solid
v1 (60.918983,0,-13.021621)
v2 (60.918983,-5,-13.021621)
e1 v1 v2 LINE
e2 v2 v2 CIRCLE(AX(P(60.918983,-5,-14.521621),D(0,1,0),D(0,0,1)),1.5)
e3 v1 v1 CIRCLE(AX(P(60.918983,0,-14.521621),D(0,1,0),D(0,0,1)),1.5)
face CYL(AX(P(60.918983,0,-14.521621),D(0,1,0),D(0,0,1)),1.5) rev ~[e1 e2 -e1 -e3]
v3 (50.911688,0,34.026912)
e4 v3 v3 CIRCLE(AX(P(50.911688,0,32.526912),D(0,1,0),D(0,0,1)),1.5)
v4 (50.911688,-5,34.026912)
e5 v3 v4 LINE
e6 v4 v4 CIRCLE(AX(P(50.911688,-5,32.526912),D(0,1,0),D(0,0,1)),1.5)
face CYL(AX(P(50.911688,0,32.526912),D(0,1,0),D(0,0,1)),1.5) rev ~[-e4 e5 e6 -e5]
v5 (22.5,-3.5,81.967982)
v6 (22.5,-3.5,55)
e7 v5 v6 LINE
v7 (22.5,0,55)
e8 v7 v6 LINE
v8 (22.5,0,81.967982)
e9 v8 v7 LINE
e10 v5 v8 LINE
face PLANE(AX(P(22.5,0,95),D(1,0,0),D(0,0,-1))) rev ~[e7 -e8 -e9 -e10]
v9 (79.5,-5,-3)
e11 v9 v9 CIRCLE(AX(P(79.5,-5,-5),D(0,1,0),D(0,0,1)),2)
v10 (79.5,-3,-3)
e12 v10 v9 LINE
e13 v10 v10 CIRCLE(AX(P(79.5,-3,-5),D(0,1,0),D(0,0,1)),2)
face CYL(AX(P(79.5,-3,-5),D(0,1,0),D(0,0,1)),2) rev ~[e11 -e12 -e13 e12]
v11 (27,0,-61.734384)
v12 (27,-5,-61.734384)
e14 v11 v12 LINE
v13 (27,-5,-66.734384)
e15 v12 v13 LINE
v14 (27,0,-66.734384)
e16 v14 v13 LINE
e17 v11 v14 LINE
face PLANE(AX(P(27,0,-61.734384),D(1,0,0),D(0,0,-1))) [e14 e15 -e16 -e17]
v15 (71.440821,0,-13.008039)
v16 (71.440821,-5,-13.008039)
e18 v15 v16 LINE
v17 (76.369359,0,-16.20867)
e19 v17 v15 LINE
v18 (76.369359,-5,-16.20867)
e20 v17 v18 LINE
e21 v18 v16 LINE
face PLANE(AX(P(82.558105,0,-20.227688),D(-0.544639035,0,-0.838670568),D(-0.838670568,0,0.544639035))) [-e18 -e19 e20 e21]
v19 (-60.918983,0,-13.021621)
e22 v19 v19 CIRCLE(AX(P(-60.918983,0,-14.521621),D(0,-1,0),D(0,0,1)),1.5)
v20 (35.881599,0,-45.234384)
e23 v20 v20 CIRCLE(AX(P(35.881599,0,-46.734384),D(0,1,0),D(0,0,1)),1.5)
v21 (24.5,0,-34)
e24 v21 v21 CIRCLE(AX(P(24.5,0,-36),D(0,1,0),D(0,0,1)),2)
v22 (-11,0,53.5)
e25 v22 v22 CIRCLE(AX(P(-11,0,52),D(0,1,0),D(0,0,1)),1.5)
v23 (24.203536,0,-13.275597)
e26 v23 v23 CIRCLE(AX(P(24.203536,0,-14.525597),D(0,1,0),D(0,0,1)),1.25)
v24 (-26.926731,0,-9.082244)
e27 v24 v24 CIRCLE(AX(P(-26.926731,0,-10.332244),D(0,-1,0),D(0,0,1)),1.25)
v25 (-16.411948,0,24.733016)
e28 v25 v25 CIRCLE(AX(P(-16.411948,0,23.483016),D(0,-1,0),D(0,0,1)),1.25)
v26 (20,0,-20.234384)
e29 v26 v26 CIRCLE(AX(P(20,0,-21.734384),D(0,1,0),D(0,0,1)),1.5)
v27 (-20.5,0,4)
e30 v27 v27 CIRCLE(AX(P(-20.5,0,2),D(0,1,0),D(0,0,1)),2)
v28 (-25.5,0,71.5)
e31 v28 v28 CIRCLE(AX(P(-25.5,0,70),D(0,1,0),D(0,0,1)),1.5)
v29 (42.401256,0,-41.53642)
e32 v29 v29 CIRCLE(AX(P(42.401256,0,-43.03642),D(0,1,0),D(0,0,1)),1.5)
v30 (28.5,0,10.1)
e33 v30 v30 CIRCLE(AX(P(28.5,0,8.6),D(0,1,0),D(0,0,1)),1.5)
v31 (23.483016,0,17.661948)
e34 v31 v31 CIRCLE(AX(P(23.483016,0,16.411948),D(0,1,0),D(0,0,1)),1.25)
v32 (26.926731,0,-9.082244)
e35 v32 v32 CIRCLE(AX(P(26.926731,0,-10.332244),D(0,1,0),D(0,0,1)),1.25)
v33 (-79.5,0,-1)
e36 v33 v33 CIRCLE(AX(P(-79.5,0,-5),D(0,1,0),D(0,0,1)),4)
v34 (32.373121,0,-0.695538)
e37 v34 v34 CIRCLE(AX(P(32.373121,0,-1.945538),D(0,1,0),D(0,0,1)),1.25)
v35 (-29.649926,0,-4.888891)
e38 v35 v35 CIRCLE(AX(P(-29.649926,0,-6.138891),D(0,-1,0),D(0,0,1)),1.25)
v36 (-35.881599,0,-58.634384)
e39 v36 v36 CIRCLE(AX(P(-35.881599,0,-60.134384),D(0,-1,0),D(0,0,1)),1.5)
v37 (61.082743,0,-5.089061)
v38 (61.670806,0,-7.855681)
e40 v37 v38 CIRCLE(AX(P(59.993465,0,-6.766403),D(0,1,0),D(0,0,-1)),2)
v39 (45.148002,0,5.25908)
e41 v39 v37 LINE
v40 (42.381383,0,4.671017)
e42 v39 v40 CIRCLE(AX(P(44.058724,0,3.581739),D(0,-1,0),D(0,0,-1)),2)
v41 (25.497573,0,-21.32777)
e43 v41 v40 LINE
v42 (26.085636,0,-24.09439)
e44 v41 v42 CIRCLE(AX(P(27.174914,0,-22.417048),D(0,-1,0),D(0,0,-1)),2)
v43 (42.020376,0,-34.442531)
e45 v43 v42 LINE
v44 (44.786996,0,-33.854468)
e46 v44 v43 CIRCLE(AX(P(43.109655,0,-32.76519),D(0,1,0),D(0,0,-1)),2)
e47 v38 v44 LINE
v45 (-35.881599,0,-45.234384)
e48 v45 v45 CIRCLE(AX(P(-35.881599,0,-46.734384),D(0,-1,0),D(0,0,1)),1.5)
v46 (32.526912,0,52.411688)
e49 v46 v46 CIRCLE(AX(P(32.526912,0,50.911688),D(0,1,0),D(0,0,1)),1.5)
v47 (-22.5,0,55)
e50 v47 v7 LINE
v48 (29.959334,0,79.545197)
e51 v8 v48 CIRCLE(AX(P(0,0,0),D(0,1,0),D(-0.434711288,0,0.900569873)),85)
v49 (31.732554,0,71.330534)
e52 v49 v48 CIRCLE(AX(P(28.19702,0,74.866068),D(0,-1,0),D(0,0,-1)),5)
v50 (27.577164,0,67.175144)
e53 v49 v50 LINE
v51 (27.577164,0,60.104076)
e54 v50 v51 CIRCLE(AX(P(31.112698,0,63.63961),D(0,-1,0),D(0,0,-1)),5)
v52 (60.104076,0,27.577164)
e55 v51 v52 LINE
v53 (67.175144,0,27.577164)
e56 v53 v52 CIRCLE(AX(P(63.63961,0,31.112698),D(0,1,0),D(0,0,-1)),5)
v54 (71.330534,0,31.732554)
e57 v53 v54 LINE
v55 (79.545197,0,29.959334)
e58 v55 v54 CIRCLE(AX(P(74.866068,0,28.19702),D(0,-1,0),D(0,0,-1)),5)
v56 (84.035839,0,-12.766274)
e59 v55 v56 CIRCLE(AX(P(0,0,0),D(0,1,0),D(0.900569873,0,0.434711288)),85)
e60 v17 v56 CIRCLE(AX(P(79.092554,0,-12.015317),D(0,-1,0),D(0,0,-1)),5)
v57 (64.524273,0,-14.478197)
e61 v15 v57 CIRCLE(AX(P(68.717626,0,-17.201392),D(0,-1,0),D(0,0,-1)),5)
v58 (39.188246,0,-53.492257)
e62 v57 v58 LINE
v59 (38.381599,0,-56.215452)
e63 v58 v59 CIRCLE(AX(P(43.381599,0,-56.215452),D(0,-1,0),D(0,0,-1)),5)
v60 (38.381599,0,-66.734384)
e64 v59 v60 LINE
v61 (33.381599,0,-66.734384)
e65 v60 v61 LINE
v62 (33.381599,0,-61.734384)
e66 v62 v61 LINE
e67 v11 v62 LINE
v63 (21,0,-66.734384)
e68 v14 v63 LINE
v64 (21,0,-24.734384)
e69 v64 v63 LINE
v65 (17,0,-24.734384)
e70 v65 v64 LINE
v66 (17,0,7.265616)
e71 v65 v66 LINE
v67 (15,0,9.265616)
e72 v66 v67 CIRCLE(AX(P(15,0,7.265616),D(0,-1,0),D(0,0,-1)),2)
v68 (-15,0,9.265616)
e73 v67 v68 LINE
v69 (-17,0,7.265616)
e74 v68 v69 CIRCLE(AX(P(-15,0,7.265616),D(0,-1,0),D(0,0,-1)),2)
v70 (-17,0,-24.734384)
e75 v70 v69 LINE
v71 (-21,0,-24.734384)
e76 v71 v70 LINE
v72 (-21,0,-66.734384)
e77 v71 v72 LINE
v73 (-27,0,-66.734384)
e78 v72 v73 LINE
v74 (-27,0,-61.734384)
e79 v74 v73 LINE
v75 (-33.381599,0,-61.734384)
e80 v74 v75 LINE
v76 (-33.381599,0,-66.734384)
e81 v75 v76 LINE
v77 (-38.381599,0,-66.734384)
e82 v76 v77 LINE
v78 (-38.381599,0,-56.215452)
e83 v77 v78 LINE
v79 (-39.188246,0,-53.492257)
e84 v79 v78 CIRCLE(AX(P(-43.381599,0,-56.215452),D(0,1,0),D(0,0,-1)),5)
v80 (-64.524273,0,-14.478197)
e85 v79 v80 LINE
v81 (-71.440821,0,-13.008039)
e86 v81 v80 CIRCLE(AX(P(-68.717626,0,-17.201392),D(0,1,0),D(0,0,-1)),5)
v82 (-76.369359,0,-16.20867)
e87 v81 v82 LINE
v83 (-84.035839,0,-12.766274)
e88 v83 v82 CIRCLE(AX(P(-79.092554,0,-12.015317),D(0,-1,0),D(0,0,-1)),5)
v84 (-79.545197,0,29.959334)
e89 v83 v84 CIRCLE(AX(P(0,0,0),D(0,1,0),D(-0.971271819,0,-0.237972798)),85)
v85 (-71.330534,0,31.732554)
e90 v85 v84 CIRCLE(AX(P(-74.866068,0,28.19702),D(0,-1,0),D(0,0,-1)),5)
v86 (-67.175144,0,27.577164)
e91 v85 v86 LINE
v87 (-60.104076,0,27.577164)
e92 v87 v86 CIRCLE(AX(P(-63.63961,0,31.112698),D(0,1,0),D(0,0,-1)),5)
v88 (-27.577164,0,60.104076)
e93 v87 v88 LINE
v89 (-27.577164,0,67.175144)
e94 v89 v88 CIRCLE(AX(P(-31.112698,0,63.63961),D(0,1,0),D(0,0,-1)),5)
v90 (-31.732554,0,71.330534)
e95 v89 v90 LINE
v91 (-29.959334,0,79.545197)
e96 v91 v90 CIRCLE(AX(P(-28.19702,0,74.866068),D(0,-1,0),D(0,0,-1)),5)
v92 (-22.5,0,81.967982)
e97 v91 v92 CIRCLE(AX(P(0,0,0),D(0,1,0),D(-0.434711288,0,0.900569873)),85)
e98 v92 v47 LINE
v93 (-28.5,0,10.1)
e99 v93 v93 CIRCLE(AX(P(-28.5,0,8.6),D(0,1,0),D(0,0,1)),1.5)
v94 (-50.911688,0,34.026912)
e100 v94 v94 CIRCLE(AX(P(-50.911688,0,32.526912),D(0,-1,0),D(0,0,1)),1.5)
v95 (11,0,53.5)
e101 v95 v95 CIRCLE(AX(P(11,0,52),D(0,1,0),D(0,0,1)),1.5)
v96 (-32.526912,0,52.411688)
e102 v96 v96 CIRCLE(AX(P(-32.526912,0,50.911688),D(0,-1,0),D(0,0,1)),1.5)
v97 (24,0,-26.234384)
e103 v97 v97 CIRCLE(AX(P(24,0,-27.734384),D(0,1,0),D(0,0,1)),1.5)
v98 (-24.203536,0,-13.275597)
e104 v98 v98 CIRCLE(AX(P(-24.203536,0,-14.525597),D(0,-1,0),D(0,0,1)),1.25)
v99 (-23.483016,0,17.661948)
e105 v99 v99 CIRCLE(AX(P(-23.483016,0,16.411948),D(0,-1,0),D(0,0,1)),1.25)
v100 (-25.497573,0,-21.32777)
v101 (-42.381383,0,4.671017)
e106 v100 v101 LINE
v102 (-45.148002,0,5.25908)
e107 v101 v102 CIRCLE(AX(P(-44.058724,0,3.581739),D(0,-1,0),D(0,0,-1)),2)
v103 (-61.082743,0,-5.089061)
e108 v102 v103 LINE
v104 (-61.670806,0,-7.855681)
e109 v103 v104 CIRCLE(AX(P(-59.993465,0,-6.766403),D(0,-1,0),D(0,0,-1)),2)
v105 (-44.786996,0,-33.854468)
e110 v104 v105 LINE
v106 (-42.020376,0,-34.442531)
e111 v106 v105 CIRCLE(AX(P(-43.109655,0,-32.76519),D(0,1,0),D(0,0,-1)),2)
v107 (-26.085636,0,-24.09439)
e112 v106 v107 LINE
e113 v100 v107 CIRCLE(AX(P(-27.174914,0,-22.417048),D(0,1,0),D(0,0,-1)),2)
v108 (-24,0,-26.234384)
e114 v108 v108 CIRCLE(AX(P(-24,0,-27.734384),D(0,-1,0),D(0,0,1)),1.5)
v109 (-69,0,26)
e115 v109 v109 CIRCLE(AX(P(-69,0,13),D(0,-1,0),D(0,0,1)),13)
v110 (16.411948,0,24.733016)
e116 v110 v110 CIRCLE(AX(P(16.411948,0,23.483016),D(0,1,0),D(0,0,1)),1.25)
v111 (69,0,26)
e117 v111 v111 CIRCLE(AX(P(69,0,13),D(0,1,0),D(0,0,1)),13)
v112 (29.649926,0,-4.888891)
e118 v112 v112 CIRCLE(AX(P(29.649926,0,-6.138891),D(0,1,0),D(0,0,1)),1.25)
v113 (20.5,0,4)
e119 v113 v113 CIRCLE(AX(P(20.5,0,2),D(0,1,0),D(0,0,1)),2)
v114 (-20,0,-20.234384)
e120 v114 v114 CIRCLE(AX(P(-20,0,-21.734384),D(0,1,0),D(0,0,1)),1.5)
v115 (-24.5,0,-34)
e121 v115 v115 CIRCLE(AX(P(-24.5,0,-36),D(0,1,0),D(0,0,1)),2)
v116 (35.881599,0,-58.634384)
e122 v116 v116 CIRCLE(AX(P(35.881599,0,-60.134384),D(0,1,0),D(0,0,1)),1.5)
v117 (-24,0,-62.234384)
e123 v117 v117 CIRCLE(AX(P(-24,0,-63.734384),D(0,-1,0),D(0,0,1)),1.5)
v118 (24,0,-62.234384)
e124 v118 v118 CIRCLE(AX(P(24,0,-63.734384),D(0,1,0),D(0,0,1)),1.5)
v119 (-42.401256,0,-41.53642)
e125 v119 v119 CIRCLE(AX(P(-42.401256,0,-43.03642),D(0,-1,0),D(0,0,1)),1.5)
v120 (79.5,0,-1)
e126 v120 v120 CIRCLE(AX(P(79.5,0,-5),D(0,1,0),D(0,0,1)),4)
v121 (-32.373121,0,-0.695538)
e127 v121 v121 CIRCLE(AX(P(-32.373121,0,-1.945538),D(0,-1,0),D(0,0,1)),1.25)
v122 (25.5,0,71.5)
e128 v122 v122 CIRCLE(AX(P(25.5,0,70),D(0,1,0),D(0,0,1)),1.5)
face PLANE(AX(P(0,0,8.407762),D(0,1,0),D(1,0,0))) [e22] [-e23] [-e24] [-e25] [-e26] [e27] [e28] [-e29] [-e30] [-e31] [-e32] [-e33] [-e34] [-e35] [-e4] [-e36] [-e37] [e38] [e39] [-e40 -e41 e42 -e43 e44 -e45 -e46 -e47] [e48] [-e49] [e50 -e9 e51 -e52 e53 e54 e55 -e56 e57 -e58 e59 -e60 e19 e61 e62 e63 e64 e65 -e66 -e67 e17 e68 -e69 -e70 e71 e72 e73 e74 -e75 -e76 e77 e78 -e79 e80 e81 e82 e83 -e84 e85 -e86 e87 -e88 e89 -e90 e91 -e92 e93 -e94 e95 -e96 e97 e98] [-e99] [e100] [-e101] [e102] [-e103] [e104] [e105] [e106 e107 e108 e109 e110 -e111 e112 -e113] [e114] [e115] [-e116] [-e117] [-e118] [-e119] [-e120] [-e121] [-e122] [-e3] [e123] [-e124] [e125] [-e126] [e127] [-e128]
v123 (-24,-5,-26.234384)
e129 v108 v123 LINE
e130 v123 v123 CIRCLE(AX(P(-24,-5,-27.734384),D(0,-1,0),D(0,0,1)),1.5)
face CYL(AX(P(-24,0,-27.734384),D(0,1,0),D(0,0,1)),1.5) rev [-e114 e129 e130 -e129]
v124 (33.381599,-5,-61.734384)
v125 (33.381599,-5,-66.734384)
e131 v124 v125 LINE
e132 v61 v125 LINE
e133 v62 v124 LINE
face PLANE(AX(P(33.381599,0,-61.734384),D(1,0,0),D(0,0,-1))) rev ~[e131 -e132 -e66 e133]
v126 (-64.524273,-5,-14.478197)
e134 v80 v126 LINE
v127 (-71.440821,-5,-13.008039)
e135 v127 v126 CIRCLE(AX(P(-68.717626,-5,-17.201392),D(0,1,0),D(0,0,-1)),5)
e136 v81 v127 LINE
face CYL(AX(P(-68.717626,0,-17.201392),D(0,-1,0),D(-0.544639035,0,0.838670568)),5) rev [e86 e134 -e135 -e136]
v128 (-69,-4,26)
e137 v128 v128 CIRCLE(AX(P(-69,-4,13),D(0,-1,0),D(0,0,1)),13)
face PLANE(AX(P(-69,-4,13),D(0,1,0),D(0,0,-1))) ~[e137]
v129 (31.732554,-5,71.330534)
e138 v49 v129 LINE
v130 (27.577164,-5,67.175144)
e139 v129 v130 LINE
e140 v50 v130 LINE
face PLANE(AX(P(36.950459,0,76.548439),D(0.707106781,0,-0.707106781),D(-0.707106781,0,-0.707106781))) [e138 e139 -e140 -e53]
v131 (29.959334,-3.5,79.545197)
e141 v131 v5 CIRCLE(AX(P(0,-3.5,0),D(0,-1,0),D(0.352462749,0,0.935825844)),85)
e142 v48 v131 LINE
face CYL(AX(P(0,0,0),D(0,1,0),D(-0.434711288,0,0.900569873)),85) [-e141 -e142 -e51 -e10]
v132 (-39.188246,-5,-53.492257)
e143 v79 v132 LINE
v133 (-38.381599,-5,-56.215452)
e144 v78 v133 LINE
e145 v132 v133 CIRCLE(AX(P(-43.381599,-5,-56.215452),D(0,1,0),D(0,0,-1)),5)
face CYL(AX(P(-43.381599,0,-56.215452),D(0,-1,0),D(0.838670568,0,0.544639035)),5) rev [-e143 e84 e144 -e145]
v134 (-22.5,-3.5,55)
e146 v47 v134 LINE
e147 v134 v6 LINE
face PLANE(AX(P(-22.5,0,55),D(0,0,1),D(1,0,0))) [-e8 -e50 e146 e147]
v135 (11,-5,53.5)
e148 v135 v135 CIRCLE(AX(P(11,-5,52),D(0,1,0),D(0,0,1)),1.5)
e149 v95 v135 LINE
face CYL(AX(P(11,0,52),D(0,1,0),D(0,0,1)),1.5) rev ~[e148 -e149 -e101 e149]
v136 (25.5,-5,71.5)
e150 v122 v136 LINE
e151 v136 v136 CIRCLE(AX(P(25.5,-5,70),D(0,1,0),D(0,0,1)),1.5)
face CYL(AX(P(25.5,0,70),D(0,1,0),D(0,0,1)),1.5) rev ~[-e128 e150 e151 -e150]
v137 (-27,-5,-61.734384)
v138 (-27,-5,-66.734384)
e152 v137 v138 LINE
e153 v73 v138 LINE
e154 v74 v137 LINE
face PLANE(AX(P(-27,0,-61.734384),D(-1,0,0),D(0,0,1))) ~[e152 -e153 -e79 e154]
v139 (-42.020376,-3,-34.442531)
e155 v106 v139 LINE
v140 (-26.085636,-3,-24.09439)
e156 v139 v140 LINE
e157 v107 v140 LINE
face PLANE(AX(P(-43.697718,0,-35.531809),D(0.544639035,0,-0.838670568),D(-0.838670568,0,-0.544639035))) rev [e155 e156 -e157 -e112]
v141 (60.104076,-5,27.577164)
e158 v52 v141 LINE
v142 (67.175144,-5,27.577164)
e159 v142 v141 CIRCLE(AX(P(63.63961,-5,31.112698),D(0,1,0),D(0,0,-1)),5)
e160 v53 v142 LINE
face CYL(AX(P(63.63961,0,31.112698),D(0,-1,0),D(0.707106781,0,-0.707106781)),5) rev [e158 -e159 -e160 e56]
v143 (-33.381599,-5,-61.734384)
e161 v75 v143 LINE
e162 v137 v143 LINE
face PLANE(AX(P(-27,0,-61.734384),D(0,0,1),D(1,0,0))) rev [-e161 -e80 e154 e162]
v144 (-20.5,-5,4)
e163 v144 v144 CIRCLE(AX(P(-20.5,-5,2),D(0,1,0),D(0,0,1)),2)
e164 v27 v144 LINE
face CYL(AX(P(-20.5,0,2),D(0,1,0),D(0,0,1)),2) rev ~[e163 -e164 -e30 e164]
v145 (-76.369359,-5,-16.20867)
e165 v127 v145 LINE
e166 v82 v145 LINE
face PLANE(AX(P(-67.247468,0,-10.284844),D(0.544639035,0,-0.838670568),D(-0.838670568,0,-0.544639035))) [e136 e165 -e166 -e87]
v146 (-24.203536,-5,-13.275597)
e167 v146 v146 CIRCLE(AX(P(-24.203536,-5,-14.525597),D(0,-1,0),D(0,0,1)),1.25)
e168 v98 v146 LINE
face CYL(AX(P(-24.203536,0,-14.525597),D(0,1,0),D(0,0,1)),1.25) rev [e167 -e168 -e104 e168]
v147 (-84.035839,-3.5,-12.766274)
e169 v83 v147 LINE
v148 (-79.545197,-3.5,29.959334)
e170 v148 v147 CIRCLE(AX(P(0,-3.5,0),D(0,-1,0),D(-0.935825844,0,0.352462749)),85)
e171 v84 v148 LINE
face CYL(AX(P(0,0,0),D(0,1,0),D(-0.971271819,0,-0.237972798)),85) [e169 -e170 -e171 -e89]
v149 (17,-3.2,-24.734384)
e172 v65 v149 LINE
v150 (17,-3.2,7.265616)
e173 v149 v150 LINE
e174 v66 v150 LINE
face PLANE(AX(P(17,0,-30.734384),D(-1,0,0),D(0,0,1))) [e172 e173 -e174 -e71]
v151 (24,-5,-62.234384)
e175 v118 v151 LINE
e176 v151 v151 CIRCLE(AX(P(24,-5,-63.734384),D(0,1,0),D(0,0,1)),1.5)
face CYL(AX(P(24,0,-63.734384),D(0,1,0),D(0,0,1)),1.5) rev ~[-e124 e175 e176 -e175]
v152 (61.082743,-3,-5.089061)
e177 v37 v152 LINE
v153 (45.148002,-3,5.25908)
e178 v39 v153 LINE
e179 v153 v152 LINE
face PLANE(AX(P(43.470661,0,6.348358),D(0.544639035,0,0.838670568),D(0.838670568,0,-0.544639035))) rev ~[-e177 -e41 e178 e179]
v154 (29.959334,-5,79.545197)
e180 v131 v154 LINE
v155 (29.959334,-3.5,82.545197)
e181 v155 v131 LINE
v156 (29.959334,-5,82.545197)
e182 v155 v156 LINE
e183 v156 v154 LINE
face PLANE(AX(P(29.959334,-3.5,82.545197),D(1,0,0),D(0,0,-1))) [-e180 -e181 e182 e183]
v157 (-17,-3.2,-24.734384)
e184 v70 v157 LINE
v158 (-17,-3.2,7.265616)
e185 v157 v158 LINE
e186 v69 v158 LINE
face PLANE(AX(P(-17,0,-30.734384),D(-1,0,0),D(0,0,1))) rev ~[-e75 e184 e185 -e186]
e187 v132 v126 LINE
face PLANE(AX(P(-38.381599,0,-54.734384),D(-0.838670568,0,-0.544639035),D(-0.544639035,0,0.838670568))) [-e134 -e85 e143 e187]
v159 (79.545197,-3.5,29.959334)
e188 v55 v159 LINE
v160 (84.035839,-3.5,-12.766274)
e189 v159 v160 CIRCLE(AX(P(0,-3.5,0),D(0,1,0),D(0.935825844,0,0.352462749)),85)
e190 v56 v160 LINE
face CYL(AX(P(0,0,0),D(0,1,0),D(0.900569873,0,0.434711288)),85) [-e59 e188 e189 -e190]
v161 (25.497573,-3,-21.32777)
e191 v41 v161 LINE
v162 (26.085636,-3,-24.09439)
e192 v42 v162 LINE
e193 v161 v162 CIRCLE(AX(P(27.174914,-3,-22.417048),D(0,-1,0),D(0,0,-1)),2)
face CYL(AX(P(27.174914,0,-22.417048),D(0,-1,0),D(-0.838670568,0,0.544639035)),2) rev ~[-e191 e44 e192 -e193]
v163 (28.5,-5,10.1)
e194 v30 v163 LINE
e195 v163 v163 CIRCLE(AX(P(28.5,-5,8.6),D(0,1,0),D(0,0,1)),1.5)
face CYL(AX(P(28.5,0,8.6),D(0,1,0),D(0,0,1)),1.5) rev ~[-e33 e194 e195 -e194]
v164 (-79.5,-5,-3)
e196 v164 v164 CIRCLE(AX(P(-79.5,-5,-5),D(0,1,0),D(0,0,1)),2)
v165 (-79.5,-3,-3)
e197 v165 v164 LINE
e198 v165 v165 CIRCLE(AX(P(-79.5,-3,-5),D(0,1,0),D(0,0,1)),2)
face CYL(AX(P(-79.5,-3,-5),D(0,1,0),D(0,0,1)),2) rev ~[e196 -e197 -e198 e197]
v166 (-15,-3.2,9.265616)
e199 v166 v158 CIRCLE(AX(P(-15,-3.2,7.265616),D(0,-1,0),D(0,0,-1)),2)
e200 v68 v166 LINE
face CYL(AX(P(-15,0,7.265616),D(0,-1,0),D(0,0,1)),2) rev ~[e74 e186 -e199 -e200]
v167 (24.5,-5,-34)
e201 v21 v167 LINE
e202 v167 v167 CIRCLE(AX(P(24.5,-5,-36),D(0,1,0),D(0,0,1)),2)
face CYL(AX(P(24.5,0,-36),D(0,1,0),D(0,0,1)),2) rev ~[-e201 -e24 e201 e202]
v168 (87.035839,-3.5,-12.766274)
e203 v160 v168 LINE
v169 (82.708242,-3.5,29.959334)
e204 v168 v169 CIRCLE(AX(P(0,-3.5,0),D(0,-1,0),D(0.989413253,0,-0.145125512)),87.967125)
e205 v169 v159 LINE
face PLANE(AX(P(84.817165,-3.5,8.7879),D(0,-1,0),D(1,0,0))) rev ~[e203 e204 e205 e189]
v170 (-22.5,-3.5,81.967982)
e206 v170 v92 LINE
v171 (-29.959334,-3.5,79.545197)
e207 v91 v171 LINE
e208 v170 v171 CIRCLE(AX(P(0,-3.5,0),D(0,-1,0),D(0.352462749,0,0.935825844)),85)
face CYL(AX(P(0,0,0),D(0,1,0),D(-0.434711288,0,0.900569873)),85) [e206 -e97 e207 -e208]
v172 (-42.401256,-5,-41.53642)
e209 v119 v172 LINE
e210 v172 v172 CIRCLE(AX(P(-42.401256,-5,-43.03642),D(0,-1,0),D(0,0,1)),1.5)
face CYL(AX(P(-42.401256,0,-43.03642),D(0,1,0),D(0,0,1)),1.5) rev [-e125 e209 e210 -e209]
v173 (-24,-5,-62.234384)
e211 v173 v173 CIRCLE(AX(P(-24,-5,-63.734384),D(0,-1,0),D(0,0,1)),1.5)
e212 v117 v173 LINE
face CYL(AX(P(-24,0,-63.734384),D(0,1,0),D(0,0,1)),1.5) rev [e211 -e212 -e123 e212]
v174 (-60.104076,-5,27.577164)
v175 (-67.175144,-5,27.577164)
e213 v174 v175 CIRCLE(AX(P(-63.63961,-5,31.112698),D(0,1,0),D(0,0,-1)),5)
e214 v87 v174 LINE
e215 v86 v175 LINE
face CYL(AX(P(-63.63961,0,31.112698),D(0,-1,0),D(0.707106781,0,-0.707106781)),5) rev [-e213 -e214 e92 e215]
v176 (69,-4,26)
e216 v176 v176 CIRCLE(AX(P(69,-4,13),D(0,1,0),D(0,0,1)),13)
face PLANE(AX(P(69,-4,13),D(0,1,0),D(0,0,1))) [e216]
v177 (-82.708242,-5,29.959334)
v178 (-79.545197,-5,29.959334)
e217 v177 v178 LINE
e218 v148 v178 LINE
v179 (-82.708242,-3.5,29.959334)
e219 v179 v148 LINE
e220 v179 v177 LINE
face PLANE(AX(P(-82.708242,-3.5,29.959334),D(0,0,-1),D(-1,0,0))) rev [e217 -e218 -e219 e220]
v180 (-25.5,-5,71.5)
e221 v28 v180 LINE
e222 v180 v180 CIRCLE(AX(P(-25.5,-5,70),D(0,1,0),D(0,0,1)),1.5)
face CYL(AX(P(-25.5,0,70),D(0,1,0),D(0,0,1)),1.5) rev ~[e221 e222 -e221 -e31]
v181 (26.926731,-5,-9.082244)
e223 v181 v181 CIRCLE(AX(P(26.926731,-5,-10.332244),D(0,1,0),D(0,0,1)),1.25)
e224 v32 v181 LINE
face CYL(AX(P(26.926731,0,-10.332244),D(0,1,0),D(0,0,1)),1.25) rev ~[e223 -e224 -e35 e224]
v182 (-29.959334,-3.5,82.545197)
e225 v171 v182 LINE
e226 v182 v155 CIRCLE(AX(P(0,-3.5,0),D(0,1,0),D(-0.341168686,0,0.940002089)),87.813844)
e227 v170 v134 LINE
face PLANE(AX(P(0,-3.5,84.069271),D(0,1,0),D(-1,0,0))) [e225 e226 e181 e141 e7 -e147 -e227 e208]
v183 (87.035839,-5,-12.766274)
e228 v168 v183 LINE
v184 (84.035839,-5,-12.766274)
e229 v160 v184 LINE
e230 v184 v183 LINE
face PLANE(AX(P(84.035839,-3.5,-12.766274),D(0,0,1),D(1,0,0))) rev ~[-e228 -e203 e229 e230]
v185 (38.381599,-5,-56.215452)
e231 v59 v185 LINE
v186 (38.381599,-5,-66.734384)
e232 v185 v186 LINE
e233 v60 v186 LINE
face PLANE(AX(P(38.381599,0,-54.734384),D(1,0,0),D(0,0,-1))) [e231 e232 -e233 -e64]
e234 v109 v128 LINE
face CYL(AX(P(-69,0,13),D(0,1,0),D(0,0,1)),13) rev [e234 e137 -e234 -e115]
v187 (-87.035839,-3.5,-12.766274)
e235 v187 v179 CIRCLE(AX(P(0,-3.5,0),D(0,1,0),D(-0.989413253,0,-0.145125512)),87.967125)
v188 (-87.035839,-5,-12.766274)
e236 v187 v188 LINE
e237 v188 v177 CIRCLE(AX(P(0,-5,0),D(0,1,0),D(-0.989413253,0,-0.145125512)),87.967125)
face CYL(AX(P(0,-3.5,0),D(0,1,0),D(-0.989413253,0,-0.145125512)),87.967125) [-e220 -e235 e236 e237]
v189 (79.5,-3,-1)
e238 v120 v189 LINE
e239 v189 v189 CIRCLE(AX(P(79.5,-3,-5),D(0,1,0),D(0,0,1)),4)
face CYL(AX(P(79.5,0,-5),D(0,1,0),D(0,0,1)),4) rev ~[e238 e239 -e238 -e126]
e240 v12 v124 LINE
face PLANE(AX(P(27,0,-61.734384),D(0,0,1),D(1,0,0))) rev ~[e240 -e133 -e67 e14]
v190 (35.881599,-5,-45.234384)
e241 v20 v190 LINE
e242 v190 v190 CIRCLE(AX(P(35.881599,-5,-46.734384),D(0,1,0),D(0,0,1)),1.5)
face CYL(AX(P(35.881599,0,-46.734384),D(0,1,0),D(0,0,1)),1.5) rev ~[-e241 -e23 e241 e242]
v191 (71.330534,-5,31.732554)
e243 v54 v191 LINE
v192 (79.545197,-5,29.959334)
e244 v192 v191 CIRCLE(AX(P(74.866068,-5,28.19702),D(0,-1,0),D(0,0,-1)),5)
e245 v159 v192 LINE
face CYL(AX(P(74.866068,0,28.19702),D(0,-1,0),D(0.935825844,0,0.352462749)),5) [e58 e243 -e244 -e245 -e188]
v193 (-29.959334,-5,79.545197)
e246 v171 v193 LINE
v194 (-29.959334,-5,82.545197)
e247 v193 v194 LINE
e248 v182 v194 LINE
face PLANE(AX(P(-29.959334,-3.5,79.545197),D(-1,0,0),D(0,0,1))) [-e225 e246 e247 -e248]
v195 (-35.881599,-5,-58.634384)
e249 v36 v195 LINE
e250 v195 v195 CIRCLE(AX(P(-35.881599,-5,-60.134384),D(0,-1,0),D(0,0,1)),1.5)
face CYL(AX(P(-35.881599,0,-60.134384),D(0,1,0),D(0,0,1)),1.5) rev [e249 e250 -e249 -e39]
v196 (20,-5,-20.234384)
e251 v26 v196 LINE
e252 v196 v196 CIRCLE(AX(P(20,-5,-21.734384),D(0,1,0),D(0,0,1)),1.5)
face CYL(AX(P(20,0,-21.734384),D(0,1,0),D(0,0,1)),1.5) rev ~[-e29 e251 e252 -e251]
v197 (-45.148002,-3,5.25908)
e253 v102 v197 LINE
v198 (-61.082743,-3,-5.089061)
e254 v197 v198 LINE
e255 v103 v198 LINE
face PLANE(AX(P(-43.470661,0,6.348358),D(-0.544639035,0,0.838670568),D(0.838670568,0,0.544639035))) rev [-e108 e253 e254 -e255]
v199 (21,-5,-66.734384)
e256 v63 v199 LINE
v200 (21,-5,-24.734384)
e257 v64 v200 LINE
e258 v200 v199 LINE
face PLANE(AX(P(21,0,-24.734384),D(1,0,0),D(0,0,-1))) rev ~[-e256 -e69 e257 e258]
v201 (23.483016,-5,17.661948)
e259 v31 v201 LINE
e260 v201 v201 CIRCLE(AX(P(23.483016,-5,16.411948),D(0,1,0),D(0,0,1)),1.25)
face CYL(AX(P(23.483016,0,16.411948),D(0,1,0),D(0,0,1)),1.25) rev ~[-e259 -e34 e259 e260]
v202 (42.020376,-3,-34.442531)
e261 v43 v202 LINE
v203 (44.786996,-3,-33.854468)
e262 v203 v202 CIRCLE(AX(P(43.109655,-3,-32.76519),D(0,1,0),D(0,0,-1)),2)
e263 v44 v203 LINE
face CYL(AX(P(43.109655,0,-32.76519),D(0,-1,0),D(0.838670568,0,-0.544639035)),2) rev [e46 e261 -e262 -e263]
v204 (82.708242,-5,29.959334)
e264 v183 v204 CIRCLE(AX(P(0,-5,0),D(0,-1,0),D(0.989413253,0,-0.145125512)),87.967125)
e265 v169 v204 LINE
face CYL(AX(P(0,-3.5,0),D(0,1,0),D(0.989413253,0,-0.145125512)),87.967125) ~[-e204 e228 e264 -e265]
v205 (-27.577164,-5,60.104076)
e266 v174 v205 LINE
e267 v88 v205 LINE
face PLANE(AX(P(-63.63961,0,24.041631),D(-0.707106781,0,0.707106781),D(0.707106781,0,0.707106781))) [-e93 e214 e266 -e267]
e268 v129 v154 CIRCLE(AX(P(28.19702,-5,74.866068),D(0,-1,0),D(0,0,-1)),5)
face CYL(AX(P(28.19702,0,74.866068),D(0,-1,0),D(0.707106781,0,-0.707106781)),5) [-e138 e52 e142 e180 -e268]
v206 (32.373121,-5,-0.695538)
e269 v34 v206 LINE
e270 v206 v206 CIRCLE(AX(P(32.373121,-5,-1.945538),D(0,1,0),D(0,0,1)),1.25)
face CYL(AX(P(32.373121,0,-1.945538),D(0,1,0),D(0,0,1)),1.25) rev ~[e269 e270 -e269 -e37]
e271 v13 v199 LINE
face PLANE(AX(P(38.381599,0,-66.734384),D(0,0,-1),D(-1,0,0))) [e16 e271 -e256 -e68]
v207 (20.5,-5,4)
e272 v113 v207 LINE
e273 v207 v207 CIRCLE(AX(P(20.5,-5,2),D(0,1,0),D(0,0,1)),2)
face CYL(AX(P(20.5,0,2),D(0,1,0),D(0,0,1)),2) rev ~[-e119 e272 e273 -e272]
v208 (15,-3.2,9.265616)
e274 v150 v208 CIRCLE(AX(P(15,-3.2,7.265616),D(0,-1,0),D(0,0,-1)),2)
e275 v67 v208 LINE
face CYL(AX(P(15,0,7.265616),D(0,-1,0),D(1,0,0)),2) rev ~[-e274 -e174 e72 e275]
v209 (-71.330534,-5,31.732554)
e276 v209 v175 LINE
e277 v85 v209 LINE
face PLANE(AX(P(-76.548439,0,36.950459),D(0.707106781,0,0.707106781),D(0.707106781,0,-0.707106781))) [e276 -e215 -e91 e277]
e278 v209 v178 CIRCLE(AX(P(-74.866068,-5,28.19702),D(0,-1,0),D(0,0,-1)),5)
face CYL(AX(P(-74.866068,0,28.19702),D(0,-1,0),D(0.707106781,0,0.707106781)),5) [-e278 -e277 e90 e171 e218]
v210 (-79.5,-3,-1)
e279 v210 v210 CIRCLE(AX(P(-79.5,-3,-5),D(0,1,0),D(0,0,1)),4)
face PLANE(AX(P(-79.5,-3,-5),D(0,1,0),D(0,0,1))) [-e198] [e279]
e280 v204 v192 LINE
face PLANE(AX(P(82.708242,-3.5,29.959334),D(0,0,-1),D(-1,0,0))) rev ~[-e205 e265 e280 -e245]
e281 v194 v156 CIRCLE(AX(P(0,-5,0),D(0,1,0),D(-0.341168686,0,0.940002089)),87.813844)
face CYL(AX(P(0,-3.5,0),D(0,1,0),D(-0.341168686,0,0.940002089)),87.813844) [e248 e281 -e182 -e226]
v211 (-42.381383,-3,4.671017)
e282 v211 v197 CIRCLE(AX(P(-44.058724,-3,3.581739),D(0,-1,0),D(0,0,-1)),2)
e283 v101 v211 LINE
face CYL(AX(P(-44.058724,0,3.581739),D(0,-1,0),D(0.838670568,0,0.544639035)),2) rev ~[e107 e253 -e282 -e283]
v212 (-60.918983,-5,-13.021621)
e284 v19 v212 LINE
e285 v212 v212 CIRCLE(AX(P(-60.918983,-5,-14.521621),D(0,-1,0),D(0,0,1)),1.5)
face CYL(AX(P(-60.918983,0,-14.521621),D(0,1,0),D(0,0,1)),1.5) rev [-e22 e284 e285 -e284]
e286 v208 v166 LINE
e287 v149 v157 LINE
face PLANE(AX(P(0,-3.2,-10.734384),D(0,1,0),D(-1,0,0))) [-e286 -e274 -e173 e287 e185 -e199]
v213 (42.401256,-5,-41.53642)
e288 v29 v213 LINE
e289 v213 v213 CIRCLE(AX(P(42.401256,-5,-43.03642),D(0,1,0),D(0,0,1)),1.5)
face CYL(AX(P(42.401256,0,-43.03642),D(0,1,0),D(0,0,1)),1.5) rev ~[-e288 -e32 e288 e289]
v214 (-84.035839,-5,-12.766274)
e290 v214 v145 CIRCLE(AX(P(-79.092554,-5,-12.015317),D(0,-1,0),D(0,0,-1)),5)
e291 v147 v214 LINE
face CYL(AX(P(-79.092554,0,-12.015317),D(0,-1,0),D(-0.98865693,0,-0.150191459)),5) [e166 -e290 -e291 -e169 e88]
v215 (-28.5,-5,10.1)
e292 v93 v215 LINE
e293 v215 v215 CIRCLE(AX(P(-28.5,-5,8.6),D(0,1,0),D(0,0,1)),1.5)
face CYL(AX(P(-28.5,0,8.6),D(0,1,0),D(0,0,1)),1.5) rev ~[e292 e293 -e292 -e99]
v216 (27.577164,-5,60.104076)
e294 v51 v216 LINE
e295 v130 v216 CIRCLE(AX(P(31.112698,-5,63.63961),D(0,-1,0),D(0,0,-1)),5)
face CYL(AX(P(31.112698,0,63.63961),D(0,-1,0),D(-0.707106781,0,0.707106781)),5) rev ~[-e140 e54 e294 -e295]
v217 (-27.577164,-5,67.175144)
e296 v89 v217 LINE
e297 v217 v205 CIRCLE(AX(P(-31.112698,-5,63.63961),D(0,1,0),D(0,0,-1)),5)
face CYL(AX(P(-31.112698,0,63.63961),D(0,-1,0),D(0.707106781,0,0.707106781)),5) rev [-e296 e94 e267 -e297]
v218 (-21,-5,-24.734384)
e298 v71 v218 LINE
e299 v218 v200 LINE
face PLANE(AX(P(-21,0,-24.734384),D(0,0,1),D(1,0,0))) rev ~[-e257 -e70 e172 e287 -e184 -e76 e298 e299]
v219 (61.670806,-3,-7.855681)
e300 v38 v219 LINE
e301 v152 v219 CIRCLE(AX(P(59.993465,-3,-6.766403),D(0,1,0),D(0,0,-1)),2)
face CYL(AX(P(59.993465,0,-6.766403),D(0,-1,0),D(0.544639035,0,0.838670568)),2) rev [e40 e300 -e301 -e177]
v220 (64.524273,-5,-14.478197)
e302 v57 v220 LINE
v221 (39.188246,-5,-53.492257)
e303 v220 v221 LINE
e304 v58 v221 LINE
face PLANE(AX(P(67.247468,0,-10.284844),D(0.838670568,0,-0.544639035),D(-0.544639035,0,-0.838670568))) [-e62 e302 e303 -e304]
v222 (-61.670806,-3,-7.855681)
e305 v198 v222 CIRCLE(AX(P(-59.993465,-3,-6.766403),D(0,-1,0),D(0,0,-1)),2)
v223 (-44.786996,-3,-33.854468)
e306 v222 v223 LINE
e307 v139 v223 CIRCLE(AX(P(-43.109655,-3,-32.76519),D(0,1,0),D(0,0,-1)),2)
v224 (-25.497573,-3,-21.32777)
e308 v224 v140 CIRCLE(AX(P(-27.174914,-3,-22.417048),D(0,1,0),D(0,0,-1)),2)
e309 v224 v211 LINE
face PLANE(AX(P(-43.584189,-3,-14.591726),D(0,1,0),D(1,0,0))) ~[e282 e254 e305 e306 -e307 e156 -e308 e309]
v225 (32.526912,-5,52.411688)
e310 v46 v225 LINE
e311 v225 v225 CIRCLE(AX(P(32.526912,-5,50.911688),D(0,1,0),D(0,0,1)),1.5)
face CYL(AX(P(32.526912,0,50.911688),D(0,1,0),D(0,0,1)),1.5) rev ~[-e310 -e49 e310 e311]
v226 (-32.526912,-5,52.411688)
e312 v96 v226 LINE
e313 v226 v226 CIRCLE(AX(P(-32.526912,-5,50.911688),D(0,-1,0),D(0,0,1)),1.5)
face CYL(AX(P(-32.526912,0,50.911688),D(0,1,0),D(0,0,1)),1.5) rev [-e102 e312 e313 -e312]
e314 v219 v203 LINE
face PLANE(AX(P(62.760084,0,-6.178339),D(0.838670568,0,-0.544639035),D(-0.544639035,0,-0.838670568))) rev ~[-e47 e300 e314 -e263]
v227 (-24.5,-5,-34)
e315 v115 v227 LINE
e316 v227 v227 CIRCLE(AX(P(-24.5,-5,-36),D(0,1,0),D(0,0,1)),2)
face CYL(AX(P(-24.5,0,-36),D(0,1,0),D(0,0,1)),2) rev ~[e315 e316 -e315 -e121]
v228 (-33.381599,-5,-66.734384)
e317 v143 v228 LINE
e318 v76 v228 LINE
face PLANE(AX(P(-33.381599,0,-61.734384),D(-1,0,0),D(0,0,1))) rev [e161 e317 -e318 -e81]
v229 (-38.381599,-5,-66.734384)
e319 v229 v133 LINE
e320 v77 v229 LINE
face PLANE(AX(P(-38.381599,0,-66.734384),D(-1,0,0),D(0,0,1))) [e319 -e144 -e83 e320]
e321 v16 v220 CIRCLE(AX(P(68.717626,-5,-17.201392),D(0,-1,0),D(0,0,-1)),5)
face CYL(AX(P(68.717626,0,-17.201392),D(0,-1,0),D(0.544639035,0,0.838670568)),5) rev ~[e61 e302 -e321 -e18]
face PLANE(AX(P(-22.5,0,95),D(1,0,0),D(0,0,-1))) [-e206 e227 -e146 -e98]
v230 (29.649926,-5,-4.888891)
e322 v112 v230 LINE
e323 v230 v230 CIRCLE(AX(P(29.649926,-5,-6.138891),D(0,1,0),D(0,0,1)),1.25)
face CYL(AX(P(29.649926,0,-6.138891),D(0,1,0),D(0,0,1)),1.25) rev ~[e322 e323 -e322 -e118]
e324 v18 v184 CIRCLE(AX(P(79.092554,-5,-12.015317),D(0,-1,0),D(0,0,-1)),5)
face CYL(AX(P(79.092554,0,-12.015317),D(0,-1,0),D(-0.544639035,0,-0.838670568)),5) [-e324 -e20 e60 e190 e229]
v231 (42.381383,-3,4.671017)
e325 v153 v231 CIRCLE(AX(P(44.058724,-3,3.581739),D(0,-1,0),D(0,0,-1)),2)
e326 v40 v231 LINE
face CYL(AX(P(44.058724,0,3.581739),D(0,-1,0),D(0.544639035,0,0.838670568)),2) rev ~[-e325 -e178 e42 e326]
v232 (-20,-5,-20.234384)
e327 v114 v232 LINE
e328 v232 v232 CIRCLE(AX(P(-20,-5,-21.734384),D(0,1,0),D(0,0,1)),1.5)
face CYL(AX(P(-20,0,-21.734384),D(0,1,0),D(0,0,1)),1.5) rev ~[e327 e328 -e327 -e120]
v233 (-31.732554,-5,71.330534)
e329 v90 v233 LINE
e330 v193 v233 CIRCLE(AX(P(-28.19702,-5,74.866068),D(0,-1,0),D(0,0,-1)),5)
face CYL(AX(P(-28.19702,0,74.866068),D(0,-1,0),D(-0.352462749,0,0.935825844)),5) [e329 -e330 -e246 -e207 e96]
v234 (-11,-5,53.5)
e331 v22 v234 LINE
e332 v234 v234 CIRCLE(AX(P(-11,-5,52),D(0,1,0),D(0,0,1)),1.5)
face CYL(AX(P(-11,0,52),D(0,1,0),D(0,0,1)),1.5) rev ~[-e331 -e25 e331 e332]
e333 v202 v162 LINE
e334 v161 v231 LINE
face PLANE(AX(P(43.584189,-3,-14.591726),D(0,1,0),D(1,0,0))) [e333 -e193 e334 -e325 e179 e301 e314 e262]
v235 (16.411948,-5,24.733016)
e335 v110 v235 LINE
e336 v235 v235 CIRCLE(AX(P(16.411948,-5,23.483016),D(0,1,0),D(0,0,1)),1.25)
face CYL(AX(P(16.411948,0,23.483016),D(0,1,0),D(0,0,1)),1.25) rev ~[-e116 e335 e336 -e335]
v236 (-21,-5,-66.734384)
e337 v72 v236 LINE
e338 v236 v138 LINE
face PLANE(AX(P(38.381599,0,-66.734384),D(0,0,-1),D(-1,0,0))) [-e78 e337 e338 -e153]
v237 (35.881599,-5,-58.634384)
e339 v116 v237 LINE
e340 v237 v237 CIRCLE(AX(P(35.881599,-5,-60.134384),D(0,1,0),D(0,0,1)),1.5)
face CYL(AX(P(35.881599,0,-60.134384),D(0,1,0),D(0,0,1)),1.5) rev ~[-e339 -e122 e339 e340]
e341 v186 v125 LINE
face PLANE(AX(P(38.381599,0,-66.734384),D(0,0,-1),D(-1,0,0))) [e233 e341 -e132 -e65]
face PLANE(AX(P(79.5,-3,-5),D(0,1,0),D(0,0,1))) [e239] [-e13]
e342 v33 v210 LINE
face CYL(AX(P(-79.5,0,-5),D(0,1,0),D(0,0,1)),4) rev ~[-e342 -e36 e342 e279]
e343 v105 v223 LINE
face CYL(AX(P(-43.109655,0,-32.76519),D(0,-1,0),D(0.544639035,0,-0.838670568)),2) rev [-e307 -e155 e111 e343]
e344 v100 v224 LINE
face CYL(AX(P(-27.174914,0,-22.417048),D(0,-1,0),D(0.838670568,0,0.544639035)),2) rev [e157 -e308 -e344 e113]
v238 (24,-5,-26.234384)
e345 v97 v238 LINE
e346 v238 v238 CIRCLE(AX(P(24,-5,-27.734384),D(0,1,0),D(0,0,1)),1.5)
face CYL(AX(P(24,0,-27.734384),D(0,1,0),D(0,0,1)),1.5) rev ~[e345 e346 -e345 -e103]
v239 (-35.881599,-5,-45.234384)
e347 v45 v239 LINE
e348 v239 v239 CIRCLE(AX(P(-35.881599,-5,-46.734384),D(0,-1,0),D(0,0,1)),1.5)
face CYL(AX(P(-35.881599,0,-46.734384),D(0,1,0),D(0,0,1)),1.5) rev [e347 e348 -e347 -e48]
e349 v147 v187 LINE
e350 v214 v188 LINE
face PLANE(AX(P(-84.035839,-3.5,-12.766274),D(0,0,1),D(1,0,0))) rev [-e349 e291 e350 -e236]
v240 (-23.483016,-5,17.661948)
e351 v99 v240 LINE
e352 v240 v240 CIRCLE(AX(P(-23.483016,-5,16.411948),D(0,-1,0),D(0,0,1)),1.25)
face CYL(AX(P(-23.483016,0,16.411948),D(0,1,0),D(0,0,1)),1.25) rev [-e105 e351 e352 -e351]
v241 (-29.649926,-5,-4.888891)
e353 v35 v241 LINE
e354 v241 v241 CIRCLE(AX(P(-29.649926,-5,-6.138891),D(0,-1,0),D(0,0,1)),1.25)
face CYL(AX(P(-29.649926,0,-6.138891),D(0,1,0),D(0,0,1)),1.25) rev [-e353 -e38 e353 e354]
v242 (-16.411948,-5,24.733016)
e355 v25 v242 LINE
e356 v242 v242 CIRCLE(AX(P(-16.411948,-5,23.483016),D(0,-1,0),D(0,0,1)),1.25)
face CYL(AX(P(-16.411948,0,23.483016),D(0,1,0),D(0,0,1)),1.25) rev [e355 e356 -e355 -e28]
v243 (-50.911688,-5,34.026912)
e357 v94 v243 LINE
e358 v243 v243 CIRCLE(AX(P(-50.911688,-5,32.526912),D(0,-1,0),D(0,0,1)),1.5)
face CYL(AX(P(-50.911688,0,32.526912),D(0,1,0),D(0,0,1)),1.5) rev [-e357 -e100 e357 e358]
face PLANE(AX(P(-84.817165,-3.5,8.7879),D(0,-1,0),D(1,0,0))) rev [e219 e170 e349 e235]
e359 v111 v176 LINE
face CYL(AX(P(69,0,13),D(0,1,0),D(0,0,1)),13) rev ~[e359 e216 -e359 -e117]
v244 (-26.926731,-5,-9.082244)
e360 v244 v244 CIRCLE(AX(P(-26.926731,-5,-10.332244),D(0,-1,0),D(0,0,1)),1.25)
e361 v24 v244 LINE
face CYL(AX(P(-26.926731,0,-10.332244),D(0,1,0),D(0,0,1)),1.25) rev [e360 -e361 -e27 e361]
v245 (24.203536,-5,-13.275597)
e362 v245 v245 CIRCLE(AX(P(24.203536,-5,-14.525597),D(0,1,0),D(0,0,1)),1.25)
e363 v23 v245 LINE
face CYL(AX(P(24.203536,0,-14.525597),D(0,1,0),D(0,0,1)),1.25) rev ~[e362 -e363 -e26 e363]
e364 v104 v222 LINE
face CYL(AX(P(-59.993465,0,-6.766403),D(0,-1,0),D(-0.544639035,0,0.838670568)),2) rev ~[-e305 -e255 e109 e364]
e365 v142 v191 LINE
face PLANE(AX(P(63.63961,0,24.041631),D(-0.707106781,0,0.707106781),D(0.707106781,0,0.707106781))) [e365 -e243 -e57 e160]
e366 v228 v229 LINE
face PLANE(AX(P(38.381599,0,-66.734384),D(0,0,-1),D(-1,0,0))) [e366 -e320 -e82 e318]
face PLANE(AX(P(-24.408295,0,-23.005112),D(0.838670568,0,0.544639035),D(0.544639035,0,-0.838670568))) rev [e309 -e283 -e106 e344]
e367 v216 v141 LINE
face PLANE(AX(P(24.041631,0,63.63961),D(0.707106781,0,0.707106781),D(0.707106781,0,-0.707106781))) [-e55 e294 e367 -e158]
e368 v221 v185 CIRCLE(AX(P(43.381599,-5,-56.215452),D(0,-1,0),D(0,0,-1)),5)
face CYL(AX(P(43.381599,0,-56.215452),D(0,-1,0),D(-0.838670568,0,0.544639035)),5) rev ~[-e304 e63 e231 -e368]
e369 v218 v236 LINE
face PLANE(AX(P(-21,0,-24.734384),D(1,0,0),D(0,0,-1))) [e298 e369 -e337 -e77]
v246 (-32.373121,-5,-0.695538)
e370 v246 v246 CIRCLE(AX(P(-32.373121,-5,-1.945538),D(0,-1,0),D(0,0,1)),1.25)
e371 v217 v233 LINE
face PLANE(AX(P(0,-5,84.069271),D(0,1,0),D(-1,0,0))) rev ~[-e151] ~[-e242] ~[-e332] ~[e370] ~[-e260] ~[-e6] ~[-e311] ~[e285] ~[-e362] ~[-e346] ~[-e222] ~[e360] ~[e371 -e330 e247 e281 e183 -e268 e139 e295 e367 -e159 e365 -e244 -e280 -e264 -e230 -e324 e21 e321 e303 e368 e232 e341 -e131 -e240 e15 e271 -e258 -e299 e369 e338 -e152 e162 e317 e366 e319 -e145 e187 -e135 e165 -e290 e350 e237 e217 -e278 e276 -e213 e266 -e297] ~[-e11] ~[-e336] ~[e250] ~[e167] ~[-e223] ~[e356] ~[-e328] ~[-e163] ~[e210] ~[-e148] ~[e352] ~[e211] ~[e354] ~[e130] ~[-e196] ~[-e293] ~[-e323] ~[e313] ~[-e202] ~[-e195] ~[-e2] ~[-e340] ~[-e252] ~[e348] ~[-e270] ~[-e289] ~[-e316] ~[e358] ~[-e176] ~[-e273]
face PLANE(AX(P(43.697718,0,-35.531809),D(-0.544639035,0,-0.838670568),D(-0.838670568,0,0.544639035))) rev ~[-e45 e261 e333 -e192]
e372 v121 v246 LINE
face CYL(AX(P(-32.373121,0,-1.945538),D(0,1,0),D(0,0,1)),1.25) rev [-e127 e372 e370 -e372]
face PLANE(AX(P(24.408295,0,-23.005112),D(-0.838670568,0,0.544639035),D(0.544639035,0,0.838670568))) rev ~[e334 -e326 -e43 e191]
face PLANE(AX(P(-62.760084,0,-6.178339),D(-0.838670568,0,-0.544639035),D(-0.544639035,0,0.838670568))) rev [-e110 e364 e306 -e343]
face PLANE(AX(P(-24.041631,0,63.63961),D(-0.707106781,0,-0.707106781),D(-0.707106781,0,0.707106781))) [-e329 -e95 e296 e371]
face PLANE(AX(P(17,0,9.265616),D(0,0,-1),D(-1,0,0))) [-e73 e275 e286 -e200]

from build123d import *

# Parameters (mm, degrees)
EXTRUDE1_DEPTH  = 5
SKETCH3_W       = 42
SKETCH3_H       = 47
EXTRUDE2_DEPTH  = 5
SKETCH4_W       = 34
SKETCH4_H       = 40
EXTRUDE3_DEPTH  = 3.2
EXTRUDE4_DEPTH  = 3
SKETCH6_R       = 1.5
EXTRUDE5_DEPTH  = 5
SKETCH7_R       = 1.5
EXTRUDE6_DEPTH  = 5
SKETCH8_W       = 6.381599337
SKETCH8_H       = 7
EXTRUDE7_DEPTH  = 5
SKETCH9_R       = 1.5
EXTRUDE8_DEPTH  = 5
FILLET1_R       = 5
FILLET2_R       = 2
SKETCH11_R      = 2
EXTRUDE10_DEPTH = 5
SKETCH15_R      = 13
EXTRUDE13_DEPTH = 4
SKETCH16_W      = 45
SKETCH16_H      = 40
EXTRUDE14_DEPTH = 3.5
SKETCH17_R      = 1.5
EXTRUDE16_DEPTH = 5
SKETCH18_R      = 1.5
EXTRUDE17_DEPTH = 5
SKETCH20_R      = 2
EXTRUDE19_DEPTH = 5
EXTRUDE24_START = -1.5
EXTRUDE24_DEPTH = 1.5
EXTRUDE25_START = -1.5
EXTRUDE25_DEPTH = 1.5
SKETCH27_R      = 1.5
EXTRUDE26_DEPTH = 5
SKETCH28_R      = 1.5
EXTRUDE27_DEPTH = 5
SKETCH29_R      = 4
EXTRUDE28_DEPTH = 3
SKETCH30_R      = 2
EXTRUDE29_DEPTH = 2
SKETCH14_R      = 1.25
EXTRUDE30_DEPTH = 5


with BuildPart() as part:
    # Sketch2 → Extrude1 (new body)
    with BuildSketch(Plane(origin=(0, 0, 0), x_dir=(1, 0, 0), z_dir=(0, 1, 0))):
        with BuildLine():
            Line((82.558104656, 20.227687844), (67.247468193, 10.284844268))
            Line((67.247468193, 10.284844268), (38.381599337, 54.73438437))
            Line((38.381599337, 54.73438437), (38.381599337, 66.73438437))
            Line((38.381599337, 66.73438437), (-38.381599337, 66.73438437))
            Line((-38.381599337, 66.73438437), (-38.381599337, 54.73438437))
            Line((-38.381599337, 54.73438437), (-67.247468193, 10.284844268))
            Line((-67.247468193, 10.284844268), (-82.558104656, 20.227687844))
            ThreePointArc((-82.558104656, 20.227687844), (-84.534361106, -8.884919378), (-76.54843921, -36.950459463))
            Line((-76.54843921, -36.950459463), (-63.639610307, -24.04163056))
            Line((-63.639610307, -24.04163056), (-24.04163056, -63.639610307))
            Line((-24.04163056, -63.639610307), (-36.950459463, -76.54843921))
            ThreePointArc((-36.950459463, -76.54843921), (0, -85), (36.950459463, -76.54843921))
            Line((36.950459463, -76.54843921), (24.04163056, -63.639610307))
            Line((24.04163056, -63.639610307), (63.639610307, -24.04163056))
            Line((63.639610307, -24.04163056), (76.54843921, -36.950459463))
            ThreePointArc((76.54843921, -36.950459463), (84.534361106, -8.884919378), (82.558104656, 20.227687844))
        make_face()
    extrude(amount=-EXTRUDE1_DEPTH)

    # Sketch3 → Extrude2 (cut)
    with BuildSketch(Plane(origin=(0, 0, 0), x_dir=(1, 0, 0), z_dir=(0, 1, 0))):
        with Locations((0, 48.23438437)):
            Rectangle(SKETCH3_W, SKETCH3_H)
    extrude(amount=-EXTRUDE2_DEPTH, mode=Mode.SUBTRACT)

    # Sketch4 → Extrude3 (cut)
    with BuildSketch(Plane(origin=(0, 0, 0), x_dir=(-1, 0, 0), z_dir=(0, 1, 0))):
        with Locations((0, -10.73438437)):
            Rectangle(SKETCH4_W, SKETCH4_H)
    extrude(amount=-EXTRUDE3_DEPTH, mode=Mode.SUBTRACT)

    # Sketch5 → Extrude4 (cut)
    with BuildSketch(Plane(origin=(0, 0, 0), x_dir=(1, 0, 0), z_dir=(0, 1, 0))):
        Polygon((43.470660758, -6.348358315), (62.76008382, 6.17833949), (43.697717595, 35.531809369), (24.408294532, 23.005111563), align=None)
    extrude4 = extrude(amount=-EXTRUDE4_DEPTH, mode=Mode.SUBTRACT)

    # Mirror1: Extrude4 across plane
    add(extrude4.mirror(Plane(origin=(0, 0, 0), x_dir=(0, 0, 1), z_dir=(1, 0, 0))), mode=Mode.SUBTRACT)

    # Sketch6 → Extrude5 (cut)
    with BuildSketch(Plane(origin=(0, 0, 0), x_dir=(1, 0, 0), z_dir=(0, 1, 0))):
        with Locations(Location((42.401256054, 43.036420449, 0), (0, 0, 270))):
            Circle(SKETCH6_R)
        with Locations(Location((60.918983244, 14.521621139, 0), (0, 0, 270))):
            Circle(SKETCH6_R)
        with Locations(Location((50.911688245, -32.526911935, 0), (0, 0, 270))):
            Circle(SKETCH6_R)
        with Locations(Location((32.526911935, -50.911688245, 0), (0, 0, 270))):
            Circle(SKETCH6_R)
    extrude5 = extrude(amount=-EXTRUDE5_DEPTH, mode=Mode.SUBTRACT)

    # Mirror2: Extrude5 across plane
    add(extrude5.mirror(Plane(origin=(0, 0, 0), x_dir=(0, 0, 1), z_dir=(1, 0, 0))), mode=Mode.SUBTRACT)

    # Sketch7 → Extrude6 (cut)
    with BuildSketch(Plane(origin=(0, 0, 0), x_dir=(-1, 0, 0), z_dir=(0, 1, 0))):
        with Locations(Location((-24, -63.73438437, 0), (0, 0, 90))):
            Circle(SKETCH7_R)
        with Locations(Location((-24, -27.73438437, 0), (0, 0, 90))):
            Circle(SKETCH7_R)
    extrude6 = extrude(amount=-EXTRUDE6_DEPTH, mode=Mode.SUBTRACT)

    # Mirror3: Extrude6 across plane
    add(extrude6.mirror(Plane(origin=(0, 0, 0), x_dir=(0, 0, 1), z_dir=(1, 0, 0))), mode=Mode.SUBTRACT)

    # Sketch8 → Extrude7 (cut)
    with BuildSketch(Plane(origin=(0, 0, 0), x_dir=(1, 0, 0), z_dir=(0, 1, 0))):
        with Locations((30.190799669, 65.23438437)):
            Rectangle(SKETCH8_W, SKETCH8_H)
    extrude7 = extrude(amount=-EXTRUDE7_DEPTH, mode=Mode.SUBTRACT)

    # Mirror4: Extrude7 across plane
    add(extrude7.mirror(Plane(origin=(0, 0, 0), x_dir=(0, 0, 1), z_dir=(1, 0, 0))), mode=Mode.SUBTRACT)

    # Sketch9 → Extrude8 (cut)
    with BuildSketch(Plane(origin=(0, 0, 0), x_dir=(1, 0, 0), z_dir=(0, 1, 0))):
        with Locations(Location((35.881599337, 60.13438437, 0), (0, 0, 270))):
            Circle(SKETCH9_R)
        with Locations(Location((35.881599337, 46.73438437, 0), (0, 0, 270))):
            Circle(SKETCH9_R)
    extrude8 = extrude(amount=-EXTRUDE8_DEPTH, mode=Mode.SUBTRACT)

    # Mirror5: Extrude8 across plane
    add(extrude8.mirror(Plane(origin=(0, 0, 0), x_dir=(0, 0, 1), z_dir=(1, 0, 0))), mode=Mode.SUBTRACT)

    # Fillet1
    fillet1_edges = [part.edges().sort_by_distance(p)[0] for p in [
        (76.54843921, -2.5, 36.950459463),
        (63.639610307, -2.5, 24.04163056),
        (24.04163056, -2.5, 63.639610307),
        (36.950459463, -2.5, 76.54843921),
        (-36.950459463, -2.5, 76.54843921),
        (-24.04163056, -2.5, 63.639610307),
        (-63.639610307, -2.5, 24.04163056),
        (-76.54843921, -2.5, 36.950459463),
        (-82.558104656, -2.5, -20.227687844),
        (-67.247468193, -2.5, -10.284844268),
        (-38.381599337, -2.5, -54.73438437),
        (38.381599337, -2.5, -54.73438437),
        (67.247468193, -2.5, -10.284844268),
        (82.558104656, -2.5, -20.227687844),
    ]]
    fillet(fillet1_edges, radius=FILLET1_R)

    # Fillet2
    fillet2_edges = [part.edges().sort_by_distance(p)[0] for p in [
        (-43.470660758, -1.5, 6.348358315),
        (-62.76008382, -1.5, -6.17833949),
        (-43.697717595, -1.5, -35.531809369),
        (-17, -1.6, 9.26561563),
        (17, -1.6, 9.26561563),
        (43.470660758, -1.5, 6.348358315),
        (24.408294532, -1.5, -23.005111563),
        (43.697717595, -1.5, -35.531809369),
        (62.76008382, -1.5, -6.17833949),
        (-24.408294532, -1.5, -23.005111563),
    ]]
    fillet(fillet2_edges, radius=FILLET2_R)

    # Sketch11 → Extrude10 (cut)
    with BuildSketch(Plane(origin=(0, 0, 0), x_dir=(1, 0, 0), z_dir=(0, 1, 0))):
        with Locations(Location((24.5, 36, 0), (0, 0, 270))):
            Circle(SKETCH11_R)
        with Locations(Location((-24.5, 36, 0), (0, 0, 270))):
            Circle(SKETCH11_R)
    extrude(amount=-EXTRUDE10_DEPTH, mode=Mode.SUBTRACT)

    # Sketch15 → Extrude13 (cut)
    with BuildSketch(Plane(origin=(0, 0, 0), x_dir=(1, 0, 0), z_dir=(0, 1, 0))):
        with Locations(Location((69, -13, 0), (0, 0, 270))):
            Circle(SKETCH15_R)
    extrude13 = extrude(amount=-EXTRUDE13_DEPTH, mode=Mode.SUBTRACT)

    # Mirror7: Extrude13 across plane
    add(extrude13.mirror(Plane(origin=(0, 0, 0), x_dir=(0, 0, 1), z_dir=(1, 0, 0))), mode=Mode.SUBTRACT)

    # Sketch16 → Extrude14 (cut)
    with BuildSketch(Plane(origin=(0, 0, 0), x_dir=(1, 0, 0), z_dir=(0, 1, 0))):
        with Locations((0, -75)):
            Rectangle(SKETCH16_W, SKETCH16_H)
    extrude(amount=-EXTRUDE14_DEPTH, mode=Mode.SUBTRACT)

    # Sketch17 → Extrude16 (cut)
    with BuildSketch(Plane(origin=(0, 0, 0), x_dir=(1, 0, 0), z_dir=(0, 1, 0))):
        with Locations(Location((25.5, -70, 0), (0, 0, 270))):
            Circle(SKETCH17_R)
        with Locations(Location((-25.5, -70, 0), (0, 0, 270))):
            Circle(SKETCH17_R)
    extrude(amount=-EXTRUDE16_DEPTH, mode=Mode.SUBTRACT)

    # Sketch18 → Extrude17 (cut)
    with BuildSketch(Plane(origin=(0, 0, 0), x_dir=(-1, 0, 0), z_dir=(0, 1, 0))):
        with Locations(Location((-11, 52, 0), (0, 0, 90))):
            Circle(SKETCH18_R)
        with Locations(Location((11, 52, 0), (0, 0, 90))):
            Circle(SKETCH18_R)
    extrude(amount=-EXTRUDE17_DEPTH, mode=Mode.SUBTRACT)

    # Sketch20 → Extrude19 (cut)
    with BuildSketch(Plane(origin=(0, 0, 0), x_dir=(1, 0, 0), z_dir=(0, 1, 0))):
        with Locations(Location((20.5, -2, 0), (0, 0, 270))):
            Circle(SKETCH20_R)
        with Locations(Location((-20.5, -2, 0), (0, 0, 270))):
            Circle(SKETCH20_R)
    extrude(amount=-EXTRUDE19_DEPTH, mode=Mode.SUBTRACT)

    # Sketch23 → Extrude24 (add)
    with BuildSketch(Plane.XZ.offset(5).offset(EXTRUDE24_START)):
        with BuildLine():
            Line((84.035839065, -12.766274034), (87.035839065, -12.766274034))
            ThreePointArc((87.035839065, -12.766274034), (87.519327499, 8.864668549), (82.708242384, 29.959333706))
            Line((82.708242384, 29.959333706), (79.545196737, 29.959333706))
            ThreePointArc((79.545196737, 29.959333706), (84.534361106, 8.884919378), (84.035839065, -12.766274034))
        make_face()
    extrude24 = extrude(amount=EXTRUDE24_DEPTH)

    # Mirror8: Extrude24 across plane
    add(extrude24.mirror(Plane(origin=(0, 0, 0), x_dir=(0, 0, 1), z_dir=(1, 0, 0))))

    # Sketch24 → Extrude25 (add)
    with BuildSketch(Plane.XZ.offset(5).offset(EXTRUDE25_START)):
        with BuildLine():
            Line((-29.959333706, 79.545196737), (-29.959333706, 82.545196737))
            ThreePointArc((-29.959333706, 82.545196737), (0, 87.8138439), (29.959333706, 82.545196737))
            Line((29.959333706, 82.545196737), (29.959333706, 79.545196737))
            ThreePointArc((29.959333706, 79.545196737), (0, 85), (-29.959333706, 79.545196737))
        make_face()
    extrude(amount=EXTRUDE25_DEPTH)

    # Sketch27 → Extrude26 (cut)
    with BuildSketch(Plane(origin=(0, 0, 0), x_dir=(1, 0, 0), z_dir=(0, 1, 0))):
        with Locations(Location((20, 21.73438437, 0), (0, 0, 270))):
            Circle(SKETCH27_R)
        with Locations(Location((-20, 21.73438437, 0), (0, 0, 270))):
            Circle(SKETCH27_R)
    extrude(amount=-EXTRUDE26_DEPTH, mode=Mode.SUBTRACT)

    # Sketch28 → Extrude27 (cut)
    with BuildSketch(Plane(origin=(0, 0, 0), x_dir=(1, 0, 0), z_dir=(0, 1, 0))):
        with Locations(Location((28.5, -8.6, 0), (0, 0, 270))):
            Circle(SKETCH28_R)
        with Locations(Location((-28.5, -8.6, 0), (0, 0, 270))):
            Circle(SKETCH28_R)
    extrude(amount=-EXTRUDE27_DEPTH, mode=Mode.SUBTRACT)

    # Sketch29 → Extrude28 (cut)
    with BuildSketch(Plane(origin=(0, 0, 0), x_dir=(1, 0, 0), z_dir=(0, 1, 0))):
        with Locations(Location((-79.5, 5, 0), (0, 0, 270))):
            Circle(SKETCH29_R)
        with Locations(Location((79.5, 5, 0), (0, 0, 270))):
            Circle(SKETCH29_R)
    extrude(amount=-EXTRUDE28_DEPTH, mode=Mode.SUBTRACT)

    # Sketch30 → Extrude29 (cut)
    with BuildSketch(Plane(origin=(0, -3, 0), x_dir=(1, 0, 0), z_dir=(0, 1, 0))):
        with Locations(Location((79.5, 5, 0), (0, 0, 270))):
            Circle(SKETCH30_R)
        with Locations(Location((-79.5, 5, 0), (0, 0, 270))):
            Circle(SKETCH30_R)
    extrude(amount=-EXTRUDE29_DEPTH, mode=Mode.SUBTRACT)

    # Sketch14 → Extrude30 (cut)
    with BuildSketch(Plane(origin=(0, 0, 0), x_dir=(1, 0, 0), z_dir=(0, 1, 0))):
        with Locations(Location((24.203535757, 14.52559661, 0), (0, 0, 270))):
            Circle(SKETCH14_R)
        with Locations(Location((29.649926107, 6.13889093, 0), (0, 0, 270))):
            Circle(SKETCH14_R)
        with Locations(Location((23.483016203, -16.411948391, 0), (0, 0, 270))):
            Circle(SKETCH14_R)
        with Locations(Location((16.411948391, -23.483016203, 0), (0, 0, 270))):
            Circle(SKETCH14_R)
        with Locations(Location((26.926730932, 10.33224377, 0), (0, 0, 270))):
            Circle(SKETCH14_R)
        with Locations(Location((32.373121282, 1.945538091, 0), (0, 0, 270))):
            Circle(SKETCH14_R)
    extrude30 = extrude(amount=-EXTRUDE30_DEPTH, mode=Mode.SUBTRACT)

    # Mirror9: Extrude30 across plane
    add(extrude30.mirror(Plane(origin=(0, 0, 0), x_dir=(0, 0, 1), z_dir=(1, 0, 0))), mode=Mode.SUBTRACT)


solid = part.part
